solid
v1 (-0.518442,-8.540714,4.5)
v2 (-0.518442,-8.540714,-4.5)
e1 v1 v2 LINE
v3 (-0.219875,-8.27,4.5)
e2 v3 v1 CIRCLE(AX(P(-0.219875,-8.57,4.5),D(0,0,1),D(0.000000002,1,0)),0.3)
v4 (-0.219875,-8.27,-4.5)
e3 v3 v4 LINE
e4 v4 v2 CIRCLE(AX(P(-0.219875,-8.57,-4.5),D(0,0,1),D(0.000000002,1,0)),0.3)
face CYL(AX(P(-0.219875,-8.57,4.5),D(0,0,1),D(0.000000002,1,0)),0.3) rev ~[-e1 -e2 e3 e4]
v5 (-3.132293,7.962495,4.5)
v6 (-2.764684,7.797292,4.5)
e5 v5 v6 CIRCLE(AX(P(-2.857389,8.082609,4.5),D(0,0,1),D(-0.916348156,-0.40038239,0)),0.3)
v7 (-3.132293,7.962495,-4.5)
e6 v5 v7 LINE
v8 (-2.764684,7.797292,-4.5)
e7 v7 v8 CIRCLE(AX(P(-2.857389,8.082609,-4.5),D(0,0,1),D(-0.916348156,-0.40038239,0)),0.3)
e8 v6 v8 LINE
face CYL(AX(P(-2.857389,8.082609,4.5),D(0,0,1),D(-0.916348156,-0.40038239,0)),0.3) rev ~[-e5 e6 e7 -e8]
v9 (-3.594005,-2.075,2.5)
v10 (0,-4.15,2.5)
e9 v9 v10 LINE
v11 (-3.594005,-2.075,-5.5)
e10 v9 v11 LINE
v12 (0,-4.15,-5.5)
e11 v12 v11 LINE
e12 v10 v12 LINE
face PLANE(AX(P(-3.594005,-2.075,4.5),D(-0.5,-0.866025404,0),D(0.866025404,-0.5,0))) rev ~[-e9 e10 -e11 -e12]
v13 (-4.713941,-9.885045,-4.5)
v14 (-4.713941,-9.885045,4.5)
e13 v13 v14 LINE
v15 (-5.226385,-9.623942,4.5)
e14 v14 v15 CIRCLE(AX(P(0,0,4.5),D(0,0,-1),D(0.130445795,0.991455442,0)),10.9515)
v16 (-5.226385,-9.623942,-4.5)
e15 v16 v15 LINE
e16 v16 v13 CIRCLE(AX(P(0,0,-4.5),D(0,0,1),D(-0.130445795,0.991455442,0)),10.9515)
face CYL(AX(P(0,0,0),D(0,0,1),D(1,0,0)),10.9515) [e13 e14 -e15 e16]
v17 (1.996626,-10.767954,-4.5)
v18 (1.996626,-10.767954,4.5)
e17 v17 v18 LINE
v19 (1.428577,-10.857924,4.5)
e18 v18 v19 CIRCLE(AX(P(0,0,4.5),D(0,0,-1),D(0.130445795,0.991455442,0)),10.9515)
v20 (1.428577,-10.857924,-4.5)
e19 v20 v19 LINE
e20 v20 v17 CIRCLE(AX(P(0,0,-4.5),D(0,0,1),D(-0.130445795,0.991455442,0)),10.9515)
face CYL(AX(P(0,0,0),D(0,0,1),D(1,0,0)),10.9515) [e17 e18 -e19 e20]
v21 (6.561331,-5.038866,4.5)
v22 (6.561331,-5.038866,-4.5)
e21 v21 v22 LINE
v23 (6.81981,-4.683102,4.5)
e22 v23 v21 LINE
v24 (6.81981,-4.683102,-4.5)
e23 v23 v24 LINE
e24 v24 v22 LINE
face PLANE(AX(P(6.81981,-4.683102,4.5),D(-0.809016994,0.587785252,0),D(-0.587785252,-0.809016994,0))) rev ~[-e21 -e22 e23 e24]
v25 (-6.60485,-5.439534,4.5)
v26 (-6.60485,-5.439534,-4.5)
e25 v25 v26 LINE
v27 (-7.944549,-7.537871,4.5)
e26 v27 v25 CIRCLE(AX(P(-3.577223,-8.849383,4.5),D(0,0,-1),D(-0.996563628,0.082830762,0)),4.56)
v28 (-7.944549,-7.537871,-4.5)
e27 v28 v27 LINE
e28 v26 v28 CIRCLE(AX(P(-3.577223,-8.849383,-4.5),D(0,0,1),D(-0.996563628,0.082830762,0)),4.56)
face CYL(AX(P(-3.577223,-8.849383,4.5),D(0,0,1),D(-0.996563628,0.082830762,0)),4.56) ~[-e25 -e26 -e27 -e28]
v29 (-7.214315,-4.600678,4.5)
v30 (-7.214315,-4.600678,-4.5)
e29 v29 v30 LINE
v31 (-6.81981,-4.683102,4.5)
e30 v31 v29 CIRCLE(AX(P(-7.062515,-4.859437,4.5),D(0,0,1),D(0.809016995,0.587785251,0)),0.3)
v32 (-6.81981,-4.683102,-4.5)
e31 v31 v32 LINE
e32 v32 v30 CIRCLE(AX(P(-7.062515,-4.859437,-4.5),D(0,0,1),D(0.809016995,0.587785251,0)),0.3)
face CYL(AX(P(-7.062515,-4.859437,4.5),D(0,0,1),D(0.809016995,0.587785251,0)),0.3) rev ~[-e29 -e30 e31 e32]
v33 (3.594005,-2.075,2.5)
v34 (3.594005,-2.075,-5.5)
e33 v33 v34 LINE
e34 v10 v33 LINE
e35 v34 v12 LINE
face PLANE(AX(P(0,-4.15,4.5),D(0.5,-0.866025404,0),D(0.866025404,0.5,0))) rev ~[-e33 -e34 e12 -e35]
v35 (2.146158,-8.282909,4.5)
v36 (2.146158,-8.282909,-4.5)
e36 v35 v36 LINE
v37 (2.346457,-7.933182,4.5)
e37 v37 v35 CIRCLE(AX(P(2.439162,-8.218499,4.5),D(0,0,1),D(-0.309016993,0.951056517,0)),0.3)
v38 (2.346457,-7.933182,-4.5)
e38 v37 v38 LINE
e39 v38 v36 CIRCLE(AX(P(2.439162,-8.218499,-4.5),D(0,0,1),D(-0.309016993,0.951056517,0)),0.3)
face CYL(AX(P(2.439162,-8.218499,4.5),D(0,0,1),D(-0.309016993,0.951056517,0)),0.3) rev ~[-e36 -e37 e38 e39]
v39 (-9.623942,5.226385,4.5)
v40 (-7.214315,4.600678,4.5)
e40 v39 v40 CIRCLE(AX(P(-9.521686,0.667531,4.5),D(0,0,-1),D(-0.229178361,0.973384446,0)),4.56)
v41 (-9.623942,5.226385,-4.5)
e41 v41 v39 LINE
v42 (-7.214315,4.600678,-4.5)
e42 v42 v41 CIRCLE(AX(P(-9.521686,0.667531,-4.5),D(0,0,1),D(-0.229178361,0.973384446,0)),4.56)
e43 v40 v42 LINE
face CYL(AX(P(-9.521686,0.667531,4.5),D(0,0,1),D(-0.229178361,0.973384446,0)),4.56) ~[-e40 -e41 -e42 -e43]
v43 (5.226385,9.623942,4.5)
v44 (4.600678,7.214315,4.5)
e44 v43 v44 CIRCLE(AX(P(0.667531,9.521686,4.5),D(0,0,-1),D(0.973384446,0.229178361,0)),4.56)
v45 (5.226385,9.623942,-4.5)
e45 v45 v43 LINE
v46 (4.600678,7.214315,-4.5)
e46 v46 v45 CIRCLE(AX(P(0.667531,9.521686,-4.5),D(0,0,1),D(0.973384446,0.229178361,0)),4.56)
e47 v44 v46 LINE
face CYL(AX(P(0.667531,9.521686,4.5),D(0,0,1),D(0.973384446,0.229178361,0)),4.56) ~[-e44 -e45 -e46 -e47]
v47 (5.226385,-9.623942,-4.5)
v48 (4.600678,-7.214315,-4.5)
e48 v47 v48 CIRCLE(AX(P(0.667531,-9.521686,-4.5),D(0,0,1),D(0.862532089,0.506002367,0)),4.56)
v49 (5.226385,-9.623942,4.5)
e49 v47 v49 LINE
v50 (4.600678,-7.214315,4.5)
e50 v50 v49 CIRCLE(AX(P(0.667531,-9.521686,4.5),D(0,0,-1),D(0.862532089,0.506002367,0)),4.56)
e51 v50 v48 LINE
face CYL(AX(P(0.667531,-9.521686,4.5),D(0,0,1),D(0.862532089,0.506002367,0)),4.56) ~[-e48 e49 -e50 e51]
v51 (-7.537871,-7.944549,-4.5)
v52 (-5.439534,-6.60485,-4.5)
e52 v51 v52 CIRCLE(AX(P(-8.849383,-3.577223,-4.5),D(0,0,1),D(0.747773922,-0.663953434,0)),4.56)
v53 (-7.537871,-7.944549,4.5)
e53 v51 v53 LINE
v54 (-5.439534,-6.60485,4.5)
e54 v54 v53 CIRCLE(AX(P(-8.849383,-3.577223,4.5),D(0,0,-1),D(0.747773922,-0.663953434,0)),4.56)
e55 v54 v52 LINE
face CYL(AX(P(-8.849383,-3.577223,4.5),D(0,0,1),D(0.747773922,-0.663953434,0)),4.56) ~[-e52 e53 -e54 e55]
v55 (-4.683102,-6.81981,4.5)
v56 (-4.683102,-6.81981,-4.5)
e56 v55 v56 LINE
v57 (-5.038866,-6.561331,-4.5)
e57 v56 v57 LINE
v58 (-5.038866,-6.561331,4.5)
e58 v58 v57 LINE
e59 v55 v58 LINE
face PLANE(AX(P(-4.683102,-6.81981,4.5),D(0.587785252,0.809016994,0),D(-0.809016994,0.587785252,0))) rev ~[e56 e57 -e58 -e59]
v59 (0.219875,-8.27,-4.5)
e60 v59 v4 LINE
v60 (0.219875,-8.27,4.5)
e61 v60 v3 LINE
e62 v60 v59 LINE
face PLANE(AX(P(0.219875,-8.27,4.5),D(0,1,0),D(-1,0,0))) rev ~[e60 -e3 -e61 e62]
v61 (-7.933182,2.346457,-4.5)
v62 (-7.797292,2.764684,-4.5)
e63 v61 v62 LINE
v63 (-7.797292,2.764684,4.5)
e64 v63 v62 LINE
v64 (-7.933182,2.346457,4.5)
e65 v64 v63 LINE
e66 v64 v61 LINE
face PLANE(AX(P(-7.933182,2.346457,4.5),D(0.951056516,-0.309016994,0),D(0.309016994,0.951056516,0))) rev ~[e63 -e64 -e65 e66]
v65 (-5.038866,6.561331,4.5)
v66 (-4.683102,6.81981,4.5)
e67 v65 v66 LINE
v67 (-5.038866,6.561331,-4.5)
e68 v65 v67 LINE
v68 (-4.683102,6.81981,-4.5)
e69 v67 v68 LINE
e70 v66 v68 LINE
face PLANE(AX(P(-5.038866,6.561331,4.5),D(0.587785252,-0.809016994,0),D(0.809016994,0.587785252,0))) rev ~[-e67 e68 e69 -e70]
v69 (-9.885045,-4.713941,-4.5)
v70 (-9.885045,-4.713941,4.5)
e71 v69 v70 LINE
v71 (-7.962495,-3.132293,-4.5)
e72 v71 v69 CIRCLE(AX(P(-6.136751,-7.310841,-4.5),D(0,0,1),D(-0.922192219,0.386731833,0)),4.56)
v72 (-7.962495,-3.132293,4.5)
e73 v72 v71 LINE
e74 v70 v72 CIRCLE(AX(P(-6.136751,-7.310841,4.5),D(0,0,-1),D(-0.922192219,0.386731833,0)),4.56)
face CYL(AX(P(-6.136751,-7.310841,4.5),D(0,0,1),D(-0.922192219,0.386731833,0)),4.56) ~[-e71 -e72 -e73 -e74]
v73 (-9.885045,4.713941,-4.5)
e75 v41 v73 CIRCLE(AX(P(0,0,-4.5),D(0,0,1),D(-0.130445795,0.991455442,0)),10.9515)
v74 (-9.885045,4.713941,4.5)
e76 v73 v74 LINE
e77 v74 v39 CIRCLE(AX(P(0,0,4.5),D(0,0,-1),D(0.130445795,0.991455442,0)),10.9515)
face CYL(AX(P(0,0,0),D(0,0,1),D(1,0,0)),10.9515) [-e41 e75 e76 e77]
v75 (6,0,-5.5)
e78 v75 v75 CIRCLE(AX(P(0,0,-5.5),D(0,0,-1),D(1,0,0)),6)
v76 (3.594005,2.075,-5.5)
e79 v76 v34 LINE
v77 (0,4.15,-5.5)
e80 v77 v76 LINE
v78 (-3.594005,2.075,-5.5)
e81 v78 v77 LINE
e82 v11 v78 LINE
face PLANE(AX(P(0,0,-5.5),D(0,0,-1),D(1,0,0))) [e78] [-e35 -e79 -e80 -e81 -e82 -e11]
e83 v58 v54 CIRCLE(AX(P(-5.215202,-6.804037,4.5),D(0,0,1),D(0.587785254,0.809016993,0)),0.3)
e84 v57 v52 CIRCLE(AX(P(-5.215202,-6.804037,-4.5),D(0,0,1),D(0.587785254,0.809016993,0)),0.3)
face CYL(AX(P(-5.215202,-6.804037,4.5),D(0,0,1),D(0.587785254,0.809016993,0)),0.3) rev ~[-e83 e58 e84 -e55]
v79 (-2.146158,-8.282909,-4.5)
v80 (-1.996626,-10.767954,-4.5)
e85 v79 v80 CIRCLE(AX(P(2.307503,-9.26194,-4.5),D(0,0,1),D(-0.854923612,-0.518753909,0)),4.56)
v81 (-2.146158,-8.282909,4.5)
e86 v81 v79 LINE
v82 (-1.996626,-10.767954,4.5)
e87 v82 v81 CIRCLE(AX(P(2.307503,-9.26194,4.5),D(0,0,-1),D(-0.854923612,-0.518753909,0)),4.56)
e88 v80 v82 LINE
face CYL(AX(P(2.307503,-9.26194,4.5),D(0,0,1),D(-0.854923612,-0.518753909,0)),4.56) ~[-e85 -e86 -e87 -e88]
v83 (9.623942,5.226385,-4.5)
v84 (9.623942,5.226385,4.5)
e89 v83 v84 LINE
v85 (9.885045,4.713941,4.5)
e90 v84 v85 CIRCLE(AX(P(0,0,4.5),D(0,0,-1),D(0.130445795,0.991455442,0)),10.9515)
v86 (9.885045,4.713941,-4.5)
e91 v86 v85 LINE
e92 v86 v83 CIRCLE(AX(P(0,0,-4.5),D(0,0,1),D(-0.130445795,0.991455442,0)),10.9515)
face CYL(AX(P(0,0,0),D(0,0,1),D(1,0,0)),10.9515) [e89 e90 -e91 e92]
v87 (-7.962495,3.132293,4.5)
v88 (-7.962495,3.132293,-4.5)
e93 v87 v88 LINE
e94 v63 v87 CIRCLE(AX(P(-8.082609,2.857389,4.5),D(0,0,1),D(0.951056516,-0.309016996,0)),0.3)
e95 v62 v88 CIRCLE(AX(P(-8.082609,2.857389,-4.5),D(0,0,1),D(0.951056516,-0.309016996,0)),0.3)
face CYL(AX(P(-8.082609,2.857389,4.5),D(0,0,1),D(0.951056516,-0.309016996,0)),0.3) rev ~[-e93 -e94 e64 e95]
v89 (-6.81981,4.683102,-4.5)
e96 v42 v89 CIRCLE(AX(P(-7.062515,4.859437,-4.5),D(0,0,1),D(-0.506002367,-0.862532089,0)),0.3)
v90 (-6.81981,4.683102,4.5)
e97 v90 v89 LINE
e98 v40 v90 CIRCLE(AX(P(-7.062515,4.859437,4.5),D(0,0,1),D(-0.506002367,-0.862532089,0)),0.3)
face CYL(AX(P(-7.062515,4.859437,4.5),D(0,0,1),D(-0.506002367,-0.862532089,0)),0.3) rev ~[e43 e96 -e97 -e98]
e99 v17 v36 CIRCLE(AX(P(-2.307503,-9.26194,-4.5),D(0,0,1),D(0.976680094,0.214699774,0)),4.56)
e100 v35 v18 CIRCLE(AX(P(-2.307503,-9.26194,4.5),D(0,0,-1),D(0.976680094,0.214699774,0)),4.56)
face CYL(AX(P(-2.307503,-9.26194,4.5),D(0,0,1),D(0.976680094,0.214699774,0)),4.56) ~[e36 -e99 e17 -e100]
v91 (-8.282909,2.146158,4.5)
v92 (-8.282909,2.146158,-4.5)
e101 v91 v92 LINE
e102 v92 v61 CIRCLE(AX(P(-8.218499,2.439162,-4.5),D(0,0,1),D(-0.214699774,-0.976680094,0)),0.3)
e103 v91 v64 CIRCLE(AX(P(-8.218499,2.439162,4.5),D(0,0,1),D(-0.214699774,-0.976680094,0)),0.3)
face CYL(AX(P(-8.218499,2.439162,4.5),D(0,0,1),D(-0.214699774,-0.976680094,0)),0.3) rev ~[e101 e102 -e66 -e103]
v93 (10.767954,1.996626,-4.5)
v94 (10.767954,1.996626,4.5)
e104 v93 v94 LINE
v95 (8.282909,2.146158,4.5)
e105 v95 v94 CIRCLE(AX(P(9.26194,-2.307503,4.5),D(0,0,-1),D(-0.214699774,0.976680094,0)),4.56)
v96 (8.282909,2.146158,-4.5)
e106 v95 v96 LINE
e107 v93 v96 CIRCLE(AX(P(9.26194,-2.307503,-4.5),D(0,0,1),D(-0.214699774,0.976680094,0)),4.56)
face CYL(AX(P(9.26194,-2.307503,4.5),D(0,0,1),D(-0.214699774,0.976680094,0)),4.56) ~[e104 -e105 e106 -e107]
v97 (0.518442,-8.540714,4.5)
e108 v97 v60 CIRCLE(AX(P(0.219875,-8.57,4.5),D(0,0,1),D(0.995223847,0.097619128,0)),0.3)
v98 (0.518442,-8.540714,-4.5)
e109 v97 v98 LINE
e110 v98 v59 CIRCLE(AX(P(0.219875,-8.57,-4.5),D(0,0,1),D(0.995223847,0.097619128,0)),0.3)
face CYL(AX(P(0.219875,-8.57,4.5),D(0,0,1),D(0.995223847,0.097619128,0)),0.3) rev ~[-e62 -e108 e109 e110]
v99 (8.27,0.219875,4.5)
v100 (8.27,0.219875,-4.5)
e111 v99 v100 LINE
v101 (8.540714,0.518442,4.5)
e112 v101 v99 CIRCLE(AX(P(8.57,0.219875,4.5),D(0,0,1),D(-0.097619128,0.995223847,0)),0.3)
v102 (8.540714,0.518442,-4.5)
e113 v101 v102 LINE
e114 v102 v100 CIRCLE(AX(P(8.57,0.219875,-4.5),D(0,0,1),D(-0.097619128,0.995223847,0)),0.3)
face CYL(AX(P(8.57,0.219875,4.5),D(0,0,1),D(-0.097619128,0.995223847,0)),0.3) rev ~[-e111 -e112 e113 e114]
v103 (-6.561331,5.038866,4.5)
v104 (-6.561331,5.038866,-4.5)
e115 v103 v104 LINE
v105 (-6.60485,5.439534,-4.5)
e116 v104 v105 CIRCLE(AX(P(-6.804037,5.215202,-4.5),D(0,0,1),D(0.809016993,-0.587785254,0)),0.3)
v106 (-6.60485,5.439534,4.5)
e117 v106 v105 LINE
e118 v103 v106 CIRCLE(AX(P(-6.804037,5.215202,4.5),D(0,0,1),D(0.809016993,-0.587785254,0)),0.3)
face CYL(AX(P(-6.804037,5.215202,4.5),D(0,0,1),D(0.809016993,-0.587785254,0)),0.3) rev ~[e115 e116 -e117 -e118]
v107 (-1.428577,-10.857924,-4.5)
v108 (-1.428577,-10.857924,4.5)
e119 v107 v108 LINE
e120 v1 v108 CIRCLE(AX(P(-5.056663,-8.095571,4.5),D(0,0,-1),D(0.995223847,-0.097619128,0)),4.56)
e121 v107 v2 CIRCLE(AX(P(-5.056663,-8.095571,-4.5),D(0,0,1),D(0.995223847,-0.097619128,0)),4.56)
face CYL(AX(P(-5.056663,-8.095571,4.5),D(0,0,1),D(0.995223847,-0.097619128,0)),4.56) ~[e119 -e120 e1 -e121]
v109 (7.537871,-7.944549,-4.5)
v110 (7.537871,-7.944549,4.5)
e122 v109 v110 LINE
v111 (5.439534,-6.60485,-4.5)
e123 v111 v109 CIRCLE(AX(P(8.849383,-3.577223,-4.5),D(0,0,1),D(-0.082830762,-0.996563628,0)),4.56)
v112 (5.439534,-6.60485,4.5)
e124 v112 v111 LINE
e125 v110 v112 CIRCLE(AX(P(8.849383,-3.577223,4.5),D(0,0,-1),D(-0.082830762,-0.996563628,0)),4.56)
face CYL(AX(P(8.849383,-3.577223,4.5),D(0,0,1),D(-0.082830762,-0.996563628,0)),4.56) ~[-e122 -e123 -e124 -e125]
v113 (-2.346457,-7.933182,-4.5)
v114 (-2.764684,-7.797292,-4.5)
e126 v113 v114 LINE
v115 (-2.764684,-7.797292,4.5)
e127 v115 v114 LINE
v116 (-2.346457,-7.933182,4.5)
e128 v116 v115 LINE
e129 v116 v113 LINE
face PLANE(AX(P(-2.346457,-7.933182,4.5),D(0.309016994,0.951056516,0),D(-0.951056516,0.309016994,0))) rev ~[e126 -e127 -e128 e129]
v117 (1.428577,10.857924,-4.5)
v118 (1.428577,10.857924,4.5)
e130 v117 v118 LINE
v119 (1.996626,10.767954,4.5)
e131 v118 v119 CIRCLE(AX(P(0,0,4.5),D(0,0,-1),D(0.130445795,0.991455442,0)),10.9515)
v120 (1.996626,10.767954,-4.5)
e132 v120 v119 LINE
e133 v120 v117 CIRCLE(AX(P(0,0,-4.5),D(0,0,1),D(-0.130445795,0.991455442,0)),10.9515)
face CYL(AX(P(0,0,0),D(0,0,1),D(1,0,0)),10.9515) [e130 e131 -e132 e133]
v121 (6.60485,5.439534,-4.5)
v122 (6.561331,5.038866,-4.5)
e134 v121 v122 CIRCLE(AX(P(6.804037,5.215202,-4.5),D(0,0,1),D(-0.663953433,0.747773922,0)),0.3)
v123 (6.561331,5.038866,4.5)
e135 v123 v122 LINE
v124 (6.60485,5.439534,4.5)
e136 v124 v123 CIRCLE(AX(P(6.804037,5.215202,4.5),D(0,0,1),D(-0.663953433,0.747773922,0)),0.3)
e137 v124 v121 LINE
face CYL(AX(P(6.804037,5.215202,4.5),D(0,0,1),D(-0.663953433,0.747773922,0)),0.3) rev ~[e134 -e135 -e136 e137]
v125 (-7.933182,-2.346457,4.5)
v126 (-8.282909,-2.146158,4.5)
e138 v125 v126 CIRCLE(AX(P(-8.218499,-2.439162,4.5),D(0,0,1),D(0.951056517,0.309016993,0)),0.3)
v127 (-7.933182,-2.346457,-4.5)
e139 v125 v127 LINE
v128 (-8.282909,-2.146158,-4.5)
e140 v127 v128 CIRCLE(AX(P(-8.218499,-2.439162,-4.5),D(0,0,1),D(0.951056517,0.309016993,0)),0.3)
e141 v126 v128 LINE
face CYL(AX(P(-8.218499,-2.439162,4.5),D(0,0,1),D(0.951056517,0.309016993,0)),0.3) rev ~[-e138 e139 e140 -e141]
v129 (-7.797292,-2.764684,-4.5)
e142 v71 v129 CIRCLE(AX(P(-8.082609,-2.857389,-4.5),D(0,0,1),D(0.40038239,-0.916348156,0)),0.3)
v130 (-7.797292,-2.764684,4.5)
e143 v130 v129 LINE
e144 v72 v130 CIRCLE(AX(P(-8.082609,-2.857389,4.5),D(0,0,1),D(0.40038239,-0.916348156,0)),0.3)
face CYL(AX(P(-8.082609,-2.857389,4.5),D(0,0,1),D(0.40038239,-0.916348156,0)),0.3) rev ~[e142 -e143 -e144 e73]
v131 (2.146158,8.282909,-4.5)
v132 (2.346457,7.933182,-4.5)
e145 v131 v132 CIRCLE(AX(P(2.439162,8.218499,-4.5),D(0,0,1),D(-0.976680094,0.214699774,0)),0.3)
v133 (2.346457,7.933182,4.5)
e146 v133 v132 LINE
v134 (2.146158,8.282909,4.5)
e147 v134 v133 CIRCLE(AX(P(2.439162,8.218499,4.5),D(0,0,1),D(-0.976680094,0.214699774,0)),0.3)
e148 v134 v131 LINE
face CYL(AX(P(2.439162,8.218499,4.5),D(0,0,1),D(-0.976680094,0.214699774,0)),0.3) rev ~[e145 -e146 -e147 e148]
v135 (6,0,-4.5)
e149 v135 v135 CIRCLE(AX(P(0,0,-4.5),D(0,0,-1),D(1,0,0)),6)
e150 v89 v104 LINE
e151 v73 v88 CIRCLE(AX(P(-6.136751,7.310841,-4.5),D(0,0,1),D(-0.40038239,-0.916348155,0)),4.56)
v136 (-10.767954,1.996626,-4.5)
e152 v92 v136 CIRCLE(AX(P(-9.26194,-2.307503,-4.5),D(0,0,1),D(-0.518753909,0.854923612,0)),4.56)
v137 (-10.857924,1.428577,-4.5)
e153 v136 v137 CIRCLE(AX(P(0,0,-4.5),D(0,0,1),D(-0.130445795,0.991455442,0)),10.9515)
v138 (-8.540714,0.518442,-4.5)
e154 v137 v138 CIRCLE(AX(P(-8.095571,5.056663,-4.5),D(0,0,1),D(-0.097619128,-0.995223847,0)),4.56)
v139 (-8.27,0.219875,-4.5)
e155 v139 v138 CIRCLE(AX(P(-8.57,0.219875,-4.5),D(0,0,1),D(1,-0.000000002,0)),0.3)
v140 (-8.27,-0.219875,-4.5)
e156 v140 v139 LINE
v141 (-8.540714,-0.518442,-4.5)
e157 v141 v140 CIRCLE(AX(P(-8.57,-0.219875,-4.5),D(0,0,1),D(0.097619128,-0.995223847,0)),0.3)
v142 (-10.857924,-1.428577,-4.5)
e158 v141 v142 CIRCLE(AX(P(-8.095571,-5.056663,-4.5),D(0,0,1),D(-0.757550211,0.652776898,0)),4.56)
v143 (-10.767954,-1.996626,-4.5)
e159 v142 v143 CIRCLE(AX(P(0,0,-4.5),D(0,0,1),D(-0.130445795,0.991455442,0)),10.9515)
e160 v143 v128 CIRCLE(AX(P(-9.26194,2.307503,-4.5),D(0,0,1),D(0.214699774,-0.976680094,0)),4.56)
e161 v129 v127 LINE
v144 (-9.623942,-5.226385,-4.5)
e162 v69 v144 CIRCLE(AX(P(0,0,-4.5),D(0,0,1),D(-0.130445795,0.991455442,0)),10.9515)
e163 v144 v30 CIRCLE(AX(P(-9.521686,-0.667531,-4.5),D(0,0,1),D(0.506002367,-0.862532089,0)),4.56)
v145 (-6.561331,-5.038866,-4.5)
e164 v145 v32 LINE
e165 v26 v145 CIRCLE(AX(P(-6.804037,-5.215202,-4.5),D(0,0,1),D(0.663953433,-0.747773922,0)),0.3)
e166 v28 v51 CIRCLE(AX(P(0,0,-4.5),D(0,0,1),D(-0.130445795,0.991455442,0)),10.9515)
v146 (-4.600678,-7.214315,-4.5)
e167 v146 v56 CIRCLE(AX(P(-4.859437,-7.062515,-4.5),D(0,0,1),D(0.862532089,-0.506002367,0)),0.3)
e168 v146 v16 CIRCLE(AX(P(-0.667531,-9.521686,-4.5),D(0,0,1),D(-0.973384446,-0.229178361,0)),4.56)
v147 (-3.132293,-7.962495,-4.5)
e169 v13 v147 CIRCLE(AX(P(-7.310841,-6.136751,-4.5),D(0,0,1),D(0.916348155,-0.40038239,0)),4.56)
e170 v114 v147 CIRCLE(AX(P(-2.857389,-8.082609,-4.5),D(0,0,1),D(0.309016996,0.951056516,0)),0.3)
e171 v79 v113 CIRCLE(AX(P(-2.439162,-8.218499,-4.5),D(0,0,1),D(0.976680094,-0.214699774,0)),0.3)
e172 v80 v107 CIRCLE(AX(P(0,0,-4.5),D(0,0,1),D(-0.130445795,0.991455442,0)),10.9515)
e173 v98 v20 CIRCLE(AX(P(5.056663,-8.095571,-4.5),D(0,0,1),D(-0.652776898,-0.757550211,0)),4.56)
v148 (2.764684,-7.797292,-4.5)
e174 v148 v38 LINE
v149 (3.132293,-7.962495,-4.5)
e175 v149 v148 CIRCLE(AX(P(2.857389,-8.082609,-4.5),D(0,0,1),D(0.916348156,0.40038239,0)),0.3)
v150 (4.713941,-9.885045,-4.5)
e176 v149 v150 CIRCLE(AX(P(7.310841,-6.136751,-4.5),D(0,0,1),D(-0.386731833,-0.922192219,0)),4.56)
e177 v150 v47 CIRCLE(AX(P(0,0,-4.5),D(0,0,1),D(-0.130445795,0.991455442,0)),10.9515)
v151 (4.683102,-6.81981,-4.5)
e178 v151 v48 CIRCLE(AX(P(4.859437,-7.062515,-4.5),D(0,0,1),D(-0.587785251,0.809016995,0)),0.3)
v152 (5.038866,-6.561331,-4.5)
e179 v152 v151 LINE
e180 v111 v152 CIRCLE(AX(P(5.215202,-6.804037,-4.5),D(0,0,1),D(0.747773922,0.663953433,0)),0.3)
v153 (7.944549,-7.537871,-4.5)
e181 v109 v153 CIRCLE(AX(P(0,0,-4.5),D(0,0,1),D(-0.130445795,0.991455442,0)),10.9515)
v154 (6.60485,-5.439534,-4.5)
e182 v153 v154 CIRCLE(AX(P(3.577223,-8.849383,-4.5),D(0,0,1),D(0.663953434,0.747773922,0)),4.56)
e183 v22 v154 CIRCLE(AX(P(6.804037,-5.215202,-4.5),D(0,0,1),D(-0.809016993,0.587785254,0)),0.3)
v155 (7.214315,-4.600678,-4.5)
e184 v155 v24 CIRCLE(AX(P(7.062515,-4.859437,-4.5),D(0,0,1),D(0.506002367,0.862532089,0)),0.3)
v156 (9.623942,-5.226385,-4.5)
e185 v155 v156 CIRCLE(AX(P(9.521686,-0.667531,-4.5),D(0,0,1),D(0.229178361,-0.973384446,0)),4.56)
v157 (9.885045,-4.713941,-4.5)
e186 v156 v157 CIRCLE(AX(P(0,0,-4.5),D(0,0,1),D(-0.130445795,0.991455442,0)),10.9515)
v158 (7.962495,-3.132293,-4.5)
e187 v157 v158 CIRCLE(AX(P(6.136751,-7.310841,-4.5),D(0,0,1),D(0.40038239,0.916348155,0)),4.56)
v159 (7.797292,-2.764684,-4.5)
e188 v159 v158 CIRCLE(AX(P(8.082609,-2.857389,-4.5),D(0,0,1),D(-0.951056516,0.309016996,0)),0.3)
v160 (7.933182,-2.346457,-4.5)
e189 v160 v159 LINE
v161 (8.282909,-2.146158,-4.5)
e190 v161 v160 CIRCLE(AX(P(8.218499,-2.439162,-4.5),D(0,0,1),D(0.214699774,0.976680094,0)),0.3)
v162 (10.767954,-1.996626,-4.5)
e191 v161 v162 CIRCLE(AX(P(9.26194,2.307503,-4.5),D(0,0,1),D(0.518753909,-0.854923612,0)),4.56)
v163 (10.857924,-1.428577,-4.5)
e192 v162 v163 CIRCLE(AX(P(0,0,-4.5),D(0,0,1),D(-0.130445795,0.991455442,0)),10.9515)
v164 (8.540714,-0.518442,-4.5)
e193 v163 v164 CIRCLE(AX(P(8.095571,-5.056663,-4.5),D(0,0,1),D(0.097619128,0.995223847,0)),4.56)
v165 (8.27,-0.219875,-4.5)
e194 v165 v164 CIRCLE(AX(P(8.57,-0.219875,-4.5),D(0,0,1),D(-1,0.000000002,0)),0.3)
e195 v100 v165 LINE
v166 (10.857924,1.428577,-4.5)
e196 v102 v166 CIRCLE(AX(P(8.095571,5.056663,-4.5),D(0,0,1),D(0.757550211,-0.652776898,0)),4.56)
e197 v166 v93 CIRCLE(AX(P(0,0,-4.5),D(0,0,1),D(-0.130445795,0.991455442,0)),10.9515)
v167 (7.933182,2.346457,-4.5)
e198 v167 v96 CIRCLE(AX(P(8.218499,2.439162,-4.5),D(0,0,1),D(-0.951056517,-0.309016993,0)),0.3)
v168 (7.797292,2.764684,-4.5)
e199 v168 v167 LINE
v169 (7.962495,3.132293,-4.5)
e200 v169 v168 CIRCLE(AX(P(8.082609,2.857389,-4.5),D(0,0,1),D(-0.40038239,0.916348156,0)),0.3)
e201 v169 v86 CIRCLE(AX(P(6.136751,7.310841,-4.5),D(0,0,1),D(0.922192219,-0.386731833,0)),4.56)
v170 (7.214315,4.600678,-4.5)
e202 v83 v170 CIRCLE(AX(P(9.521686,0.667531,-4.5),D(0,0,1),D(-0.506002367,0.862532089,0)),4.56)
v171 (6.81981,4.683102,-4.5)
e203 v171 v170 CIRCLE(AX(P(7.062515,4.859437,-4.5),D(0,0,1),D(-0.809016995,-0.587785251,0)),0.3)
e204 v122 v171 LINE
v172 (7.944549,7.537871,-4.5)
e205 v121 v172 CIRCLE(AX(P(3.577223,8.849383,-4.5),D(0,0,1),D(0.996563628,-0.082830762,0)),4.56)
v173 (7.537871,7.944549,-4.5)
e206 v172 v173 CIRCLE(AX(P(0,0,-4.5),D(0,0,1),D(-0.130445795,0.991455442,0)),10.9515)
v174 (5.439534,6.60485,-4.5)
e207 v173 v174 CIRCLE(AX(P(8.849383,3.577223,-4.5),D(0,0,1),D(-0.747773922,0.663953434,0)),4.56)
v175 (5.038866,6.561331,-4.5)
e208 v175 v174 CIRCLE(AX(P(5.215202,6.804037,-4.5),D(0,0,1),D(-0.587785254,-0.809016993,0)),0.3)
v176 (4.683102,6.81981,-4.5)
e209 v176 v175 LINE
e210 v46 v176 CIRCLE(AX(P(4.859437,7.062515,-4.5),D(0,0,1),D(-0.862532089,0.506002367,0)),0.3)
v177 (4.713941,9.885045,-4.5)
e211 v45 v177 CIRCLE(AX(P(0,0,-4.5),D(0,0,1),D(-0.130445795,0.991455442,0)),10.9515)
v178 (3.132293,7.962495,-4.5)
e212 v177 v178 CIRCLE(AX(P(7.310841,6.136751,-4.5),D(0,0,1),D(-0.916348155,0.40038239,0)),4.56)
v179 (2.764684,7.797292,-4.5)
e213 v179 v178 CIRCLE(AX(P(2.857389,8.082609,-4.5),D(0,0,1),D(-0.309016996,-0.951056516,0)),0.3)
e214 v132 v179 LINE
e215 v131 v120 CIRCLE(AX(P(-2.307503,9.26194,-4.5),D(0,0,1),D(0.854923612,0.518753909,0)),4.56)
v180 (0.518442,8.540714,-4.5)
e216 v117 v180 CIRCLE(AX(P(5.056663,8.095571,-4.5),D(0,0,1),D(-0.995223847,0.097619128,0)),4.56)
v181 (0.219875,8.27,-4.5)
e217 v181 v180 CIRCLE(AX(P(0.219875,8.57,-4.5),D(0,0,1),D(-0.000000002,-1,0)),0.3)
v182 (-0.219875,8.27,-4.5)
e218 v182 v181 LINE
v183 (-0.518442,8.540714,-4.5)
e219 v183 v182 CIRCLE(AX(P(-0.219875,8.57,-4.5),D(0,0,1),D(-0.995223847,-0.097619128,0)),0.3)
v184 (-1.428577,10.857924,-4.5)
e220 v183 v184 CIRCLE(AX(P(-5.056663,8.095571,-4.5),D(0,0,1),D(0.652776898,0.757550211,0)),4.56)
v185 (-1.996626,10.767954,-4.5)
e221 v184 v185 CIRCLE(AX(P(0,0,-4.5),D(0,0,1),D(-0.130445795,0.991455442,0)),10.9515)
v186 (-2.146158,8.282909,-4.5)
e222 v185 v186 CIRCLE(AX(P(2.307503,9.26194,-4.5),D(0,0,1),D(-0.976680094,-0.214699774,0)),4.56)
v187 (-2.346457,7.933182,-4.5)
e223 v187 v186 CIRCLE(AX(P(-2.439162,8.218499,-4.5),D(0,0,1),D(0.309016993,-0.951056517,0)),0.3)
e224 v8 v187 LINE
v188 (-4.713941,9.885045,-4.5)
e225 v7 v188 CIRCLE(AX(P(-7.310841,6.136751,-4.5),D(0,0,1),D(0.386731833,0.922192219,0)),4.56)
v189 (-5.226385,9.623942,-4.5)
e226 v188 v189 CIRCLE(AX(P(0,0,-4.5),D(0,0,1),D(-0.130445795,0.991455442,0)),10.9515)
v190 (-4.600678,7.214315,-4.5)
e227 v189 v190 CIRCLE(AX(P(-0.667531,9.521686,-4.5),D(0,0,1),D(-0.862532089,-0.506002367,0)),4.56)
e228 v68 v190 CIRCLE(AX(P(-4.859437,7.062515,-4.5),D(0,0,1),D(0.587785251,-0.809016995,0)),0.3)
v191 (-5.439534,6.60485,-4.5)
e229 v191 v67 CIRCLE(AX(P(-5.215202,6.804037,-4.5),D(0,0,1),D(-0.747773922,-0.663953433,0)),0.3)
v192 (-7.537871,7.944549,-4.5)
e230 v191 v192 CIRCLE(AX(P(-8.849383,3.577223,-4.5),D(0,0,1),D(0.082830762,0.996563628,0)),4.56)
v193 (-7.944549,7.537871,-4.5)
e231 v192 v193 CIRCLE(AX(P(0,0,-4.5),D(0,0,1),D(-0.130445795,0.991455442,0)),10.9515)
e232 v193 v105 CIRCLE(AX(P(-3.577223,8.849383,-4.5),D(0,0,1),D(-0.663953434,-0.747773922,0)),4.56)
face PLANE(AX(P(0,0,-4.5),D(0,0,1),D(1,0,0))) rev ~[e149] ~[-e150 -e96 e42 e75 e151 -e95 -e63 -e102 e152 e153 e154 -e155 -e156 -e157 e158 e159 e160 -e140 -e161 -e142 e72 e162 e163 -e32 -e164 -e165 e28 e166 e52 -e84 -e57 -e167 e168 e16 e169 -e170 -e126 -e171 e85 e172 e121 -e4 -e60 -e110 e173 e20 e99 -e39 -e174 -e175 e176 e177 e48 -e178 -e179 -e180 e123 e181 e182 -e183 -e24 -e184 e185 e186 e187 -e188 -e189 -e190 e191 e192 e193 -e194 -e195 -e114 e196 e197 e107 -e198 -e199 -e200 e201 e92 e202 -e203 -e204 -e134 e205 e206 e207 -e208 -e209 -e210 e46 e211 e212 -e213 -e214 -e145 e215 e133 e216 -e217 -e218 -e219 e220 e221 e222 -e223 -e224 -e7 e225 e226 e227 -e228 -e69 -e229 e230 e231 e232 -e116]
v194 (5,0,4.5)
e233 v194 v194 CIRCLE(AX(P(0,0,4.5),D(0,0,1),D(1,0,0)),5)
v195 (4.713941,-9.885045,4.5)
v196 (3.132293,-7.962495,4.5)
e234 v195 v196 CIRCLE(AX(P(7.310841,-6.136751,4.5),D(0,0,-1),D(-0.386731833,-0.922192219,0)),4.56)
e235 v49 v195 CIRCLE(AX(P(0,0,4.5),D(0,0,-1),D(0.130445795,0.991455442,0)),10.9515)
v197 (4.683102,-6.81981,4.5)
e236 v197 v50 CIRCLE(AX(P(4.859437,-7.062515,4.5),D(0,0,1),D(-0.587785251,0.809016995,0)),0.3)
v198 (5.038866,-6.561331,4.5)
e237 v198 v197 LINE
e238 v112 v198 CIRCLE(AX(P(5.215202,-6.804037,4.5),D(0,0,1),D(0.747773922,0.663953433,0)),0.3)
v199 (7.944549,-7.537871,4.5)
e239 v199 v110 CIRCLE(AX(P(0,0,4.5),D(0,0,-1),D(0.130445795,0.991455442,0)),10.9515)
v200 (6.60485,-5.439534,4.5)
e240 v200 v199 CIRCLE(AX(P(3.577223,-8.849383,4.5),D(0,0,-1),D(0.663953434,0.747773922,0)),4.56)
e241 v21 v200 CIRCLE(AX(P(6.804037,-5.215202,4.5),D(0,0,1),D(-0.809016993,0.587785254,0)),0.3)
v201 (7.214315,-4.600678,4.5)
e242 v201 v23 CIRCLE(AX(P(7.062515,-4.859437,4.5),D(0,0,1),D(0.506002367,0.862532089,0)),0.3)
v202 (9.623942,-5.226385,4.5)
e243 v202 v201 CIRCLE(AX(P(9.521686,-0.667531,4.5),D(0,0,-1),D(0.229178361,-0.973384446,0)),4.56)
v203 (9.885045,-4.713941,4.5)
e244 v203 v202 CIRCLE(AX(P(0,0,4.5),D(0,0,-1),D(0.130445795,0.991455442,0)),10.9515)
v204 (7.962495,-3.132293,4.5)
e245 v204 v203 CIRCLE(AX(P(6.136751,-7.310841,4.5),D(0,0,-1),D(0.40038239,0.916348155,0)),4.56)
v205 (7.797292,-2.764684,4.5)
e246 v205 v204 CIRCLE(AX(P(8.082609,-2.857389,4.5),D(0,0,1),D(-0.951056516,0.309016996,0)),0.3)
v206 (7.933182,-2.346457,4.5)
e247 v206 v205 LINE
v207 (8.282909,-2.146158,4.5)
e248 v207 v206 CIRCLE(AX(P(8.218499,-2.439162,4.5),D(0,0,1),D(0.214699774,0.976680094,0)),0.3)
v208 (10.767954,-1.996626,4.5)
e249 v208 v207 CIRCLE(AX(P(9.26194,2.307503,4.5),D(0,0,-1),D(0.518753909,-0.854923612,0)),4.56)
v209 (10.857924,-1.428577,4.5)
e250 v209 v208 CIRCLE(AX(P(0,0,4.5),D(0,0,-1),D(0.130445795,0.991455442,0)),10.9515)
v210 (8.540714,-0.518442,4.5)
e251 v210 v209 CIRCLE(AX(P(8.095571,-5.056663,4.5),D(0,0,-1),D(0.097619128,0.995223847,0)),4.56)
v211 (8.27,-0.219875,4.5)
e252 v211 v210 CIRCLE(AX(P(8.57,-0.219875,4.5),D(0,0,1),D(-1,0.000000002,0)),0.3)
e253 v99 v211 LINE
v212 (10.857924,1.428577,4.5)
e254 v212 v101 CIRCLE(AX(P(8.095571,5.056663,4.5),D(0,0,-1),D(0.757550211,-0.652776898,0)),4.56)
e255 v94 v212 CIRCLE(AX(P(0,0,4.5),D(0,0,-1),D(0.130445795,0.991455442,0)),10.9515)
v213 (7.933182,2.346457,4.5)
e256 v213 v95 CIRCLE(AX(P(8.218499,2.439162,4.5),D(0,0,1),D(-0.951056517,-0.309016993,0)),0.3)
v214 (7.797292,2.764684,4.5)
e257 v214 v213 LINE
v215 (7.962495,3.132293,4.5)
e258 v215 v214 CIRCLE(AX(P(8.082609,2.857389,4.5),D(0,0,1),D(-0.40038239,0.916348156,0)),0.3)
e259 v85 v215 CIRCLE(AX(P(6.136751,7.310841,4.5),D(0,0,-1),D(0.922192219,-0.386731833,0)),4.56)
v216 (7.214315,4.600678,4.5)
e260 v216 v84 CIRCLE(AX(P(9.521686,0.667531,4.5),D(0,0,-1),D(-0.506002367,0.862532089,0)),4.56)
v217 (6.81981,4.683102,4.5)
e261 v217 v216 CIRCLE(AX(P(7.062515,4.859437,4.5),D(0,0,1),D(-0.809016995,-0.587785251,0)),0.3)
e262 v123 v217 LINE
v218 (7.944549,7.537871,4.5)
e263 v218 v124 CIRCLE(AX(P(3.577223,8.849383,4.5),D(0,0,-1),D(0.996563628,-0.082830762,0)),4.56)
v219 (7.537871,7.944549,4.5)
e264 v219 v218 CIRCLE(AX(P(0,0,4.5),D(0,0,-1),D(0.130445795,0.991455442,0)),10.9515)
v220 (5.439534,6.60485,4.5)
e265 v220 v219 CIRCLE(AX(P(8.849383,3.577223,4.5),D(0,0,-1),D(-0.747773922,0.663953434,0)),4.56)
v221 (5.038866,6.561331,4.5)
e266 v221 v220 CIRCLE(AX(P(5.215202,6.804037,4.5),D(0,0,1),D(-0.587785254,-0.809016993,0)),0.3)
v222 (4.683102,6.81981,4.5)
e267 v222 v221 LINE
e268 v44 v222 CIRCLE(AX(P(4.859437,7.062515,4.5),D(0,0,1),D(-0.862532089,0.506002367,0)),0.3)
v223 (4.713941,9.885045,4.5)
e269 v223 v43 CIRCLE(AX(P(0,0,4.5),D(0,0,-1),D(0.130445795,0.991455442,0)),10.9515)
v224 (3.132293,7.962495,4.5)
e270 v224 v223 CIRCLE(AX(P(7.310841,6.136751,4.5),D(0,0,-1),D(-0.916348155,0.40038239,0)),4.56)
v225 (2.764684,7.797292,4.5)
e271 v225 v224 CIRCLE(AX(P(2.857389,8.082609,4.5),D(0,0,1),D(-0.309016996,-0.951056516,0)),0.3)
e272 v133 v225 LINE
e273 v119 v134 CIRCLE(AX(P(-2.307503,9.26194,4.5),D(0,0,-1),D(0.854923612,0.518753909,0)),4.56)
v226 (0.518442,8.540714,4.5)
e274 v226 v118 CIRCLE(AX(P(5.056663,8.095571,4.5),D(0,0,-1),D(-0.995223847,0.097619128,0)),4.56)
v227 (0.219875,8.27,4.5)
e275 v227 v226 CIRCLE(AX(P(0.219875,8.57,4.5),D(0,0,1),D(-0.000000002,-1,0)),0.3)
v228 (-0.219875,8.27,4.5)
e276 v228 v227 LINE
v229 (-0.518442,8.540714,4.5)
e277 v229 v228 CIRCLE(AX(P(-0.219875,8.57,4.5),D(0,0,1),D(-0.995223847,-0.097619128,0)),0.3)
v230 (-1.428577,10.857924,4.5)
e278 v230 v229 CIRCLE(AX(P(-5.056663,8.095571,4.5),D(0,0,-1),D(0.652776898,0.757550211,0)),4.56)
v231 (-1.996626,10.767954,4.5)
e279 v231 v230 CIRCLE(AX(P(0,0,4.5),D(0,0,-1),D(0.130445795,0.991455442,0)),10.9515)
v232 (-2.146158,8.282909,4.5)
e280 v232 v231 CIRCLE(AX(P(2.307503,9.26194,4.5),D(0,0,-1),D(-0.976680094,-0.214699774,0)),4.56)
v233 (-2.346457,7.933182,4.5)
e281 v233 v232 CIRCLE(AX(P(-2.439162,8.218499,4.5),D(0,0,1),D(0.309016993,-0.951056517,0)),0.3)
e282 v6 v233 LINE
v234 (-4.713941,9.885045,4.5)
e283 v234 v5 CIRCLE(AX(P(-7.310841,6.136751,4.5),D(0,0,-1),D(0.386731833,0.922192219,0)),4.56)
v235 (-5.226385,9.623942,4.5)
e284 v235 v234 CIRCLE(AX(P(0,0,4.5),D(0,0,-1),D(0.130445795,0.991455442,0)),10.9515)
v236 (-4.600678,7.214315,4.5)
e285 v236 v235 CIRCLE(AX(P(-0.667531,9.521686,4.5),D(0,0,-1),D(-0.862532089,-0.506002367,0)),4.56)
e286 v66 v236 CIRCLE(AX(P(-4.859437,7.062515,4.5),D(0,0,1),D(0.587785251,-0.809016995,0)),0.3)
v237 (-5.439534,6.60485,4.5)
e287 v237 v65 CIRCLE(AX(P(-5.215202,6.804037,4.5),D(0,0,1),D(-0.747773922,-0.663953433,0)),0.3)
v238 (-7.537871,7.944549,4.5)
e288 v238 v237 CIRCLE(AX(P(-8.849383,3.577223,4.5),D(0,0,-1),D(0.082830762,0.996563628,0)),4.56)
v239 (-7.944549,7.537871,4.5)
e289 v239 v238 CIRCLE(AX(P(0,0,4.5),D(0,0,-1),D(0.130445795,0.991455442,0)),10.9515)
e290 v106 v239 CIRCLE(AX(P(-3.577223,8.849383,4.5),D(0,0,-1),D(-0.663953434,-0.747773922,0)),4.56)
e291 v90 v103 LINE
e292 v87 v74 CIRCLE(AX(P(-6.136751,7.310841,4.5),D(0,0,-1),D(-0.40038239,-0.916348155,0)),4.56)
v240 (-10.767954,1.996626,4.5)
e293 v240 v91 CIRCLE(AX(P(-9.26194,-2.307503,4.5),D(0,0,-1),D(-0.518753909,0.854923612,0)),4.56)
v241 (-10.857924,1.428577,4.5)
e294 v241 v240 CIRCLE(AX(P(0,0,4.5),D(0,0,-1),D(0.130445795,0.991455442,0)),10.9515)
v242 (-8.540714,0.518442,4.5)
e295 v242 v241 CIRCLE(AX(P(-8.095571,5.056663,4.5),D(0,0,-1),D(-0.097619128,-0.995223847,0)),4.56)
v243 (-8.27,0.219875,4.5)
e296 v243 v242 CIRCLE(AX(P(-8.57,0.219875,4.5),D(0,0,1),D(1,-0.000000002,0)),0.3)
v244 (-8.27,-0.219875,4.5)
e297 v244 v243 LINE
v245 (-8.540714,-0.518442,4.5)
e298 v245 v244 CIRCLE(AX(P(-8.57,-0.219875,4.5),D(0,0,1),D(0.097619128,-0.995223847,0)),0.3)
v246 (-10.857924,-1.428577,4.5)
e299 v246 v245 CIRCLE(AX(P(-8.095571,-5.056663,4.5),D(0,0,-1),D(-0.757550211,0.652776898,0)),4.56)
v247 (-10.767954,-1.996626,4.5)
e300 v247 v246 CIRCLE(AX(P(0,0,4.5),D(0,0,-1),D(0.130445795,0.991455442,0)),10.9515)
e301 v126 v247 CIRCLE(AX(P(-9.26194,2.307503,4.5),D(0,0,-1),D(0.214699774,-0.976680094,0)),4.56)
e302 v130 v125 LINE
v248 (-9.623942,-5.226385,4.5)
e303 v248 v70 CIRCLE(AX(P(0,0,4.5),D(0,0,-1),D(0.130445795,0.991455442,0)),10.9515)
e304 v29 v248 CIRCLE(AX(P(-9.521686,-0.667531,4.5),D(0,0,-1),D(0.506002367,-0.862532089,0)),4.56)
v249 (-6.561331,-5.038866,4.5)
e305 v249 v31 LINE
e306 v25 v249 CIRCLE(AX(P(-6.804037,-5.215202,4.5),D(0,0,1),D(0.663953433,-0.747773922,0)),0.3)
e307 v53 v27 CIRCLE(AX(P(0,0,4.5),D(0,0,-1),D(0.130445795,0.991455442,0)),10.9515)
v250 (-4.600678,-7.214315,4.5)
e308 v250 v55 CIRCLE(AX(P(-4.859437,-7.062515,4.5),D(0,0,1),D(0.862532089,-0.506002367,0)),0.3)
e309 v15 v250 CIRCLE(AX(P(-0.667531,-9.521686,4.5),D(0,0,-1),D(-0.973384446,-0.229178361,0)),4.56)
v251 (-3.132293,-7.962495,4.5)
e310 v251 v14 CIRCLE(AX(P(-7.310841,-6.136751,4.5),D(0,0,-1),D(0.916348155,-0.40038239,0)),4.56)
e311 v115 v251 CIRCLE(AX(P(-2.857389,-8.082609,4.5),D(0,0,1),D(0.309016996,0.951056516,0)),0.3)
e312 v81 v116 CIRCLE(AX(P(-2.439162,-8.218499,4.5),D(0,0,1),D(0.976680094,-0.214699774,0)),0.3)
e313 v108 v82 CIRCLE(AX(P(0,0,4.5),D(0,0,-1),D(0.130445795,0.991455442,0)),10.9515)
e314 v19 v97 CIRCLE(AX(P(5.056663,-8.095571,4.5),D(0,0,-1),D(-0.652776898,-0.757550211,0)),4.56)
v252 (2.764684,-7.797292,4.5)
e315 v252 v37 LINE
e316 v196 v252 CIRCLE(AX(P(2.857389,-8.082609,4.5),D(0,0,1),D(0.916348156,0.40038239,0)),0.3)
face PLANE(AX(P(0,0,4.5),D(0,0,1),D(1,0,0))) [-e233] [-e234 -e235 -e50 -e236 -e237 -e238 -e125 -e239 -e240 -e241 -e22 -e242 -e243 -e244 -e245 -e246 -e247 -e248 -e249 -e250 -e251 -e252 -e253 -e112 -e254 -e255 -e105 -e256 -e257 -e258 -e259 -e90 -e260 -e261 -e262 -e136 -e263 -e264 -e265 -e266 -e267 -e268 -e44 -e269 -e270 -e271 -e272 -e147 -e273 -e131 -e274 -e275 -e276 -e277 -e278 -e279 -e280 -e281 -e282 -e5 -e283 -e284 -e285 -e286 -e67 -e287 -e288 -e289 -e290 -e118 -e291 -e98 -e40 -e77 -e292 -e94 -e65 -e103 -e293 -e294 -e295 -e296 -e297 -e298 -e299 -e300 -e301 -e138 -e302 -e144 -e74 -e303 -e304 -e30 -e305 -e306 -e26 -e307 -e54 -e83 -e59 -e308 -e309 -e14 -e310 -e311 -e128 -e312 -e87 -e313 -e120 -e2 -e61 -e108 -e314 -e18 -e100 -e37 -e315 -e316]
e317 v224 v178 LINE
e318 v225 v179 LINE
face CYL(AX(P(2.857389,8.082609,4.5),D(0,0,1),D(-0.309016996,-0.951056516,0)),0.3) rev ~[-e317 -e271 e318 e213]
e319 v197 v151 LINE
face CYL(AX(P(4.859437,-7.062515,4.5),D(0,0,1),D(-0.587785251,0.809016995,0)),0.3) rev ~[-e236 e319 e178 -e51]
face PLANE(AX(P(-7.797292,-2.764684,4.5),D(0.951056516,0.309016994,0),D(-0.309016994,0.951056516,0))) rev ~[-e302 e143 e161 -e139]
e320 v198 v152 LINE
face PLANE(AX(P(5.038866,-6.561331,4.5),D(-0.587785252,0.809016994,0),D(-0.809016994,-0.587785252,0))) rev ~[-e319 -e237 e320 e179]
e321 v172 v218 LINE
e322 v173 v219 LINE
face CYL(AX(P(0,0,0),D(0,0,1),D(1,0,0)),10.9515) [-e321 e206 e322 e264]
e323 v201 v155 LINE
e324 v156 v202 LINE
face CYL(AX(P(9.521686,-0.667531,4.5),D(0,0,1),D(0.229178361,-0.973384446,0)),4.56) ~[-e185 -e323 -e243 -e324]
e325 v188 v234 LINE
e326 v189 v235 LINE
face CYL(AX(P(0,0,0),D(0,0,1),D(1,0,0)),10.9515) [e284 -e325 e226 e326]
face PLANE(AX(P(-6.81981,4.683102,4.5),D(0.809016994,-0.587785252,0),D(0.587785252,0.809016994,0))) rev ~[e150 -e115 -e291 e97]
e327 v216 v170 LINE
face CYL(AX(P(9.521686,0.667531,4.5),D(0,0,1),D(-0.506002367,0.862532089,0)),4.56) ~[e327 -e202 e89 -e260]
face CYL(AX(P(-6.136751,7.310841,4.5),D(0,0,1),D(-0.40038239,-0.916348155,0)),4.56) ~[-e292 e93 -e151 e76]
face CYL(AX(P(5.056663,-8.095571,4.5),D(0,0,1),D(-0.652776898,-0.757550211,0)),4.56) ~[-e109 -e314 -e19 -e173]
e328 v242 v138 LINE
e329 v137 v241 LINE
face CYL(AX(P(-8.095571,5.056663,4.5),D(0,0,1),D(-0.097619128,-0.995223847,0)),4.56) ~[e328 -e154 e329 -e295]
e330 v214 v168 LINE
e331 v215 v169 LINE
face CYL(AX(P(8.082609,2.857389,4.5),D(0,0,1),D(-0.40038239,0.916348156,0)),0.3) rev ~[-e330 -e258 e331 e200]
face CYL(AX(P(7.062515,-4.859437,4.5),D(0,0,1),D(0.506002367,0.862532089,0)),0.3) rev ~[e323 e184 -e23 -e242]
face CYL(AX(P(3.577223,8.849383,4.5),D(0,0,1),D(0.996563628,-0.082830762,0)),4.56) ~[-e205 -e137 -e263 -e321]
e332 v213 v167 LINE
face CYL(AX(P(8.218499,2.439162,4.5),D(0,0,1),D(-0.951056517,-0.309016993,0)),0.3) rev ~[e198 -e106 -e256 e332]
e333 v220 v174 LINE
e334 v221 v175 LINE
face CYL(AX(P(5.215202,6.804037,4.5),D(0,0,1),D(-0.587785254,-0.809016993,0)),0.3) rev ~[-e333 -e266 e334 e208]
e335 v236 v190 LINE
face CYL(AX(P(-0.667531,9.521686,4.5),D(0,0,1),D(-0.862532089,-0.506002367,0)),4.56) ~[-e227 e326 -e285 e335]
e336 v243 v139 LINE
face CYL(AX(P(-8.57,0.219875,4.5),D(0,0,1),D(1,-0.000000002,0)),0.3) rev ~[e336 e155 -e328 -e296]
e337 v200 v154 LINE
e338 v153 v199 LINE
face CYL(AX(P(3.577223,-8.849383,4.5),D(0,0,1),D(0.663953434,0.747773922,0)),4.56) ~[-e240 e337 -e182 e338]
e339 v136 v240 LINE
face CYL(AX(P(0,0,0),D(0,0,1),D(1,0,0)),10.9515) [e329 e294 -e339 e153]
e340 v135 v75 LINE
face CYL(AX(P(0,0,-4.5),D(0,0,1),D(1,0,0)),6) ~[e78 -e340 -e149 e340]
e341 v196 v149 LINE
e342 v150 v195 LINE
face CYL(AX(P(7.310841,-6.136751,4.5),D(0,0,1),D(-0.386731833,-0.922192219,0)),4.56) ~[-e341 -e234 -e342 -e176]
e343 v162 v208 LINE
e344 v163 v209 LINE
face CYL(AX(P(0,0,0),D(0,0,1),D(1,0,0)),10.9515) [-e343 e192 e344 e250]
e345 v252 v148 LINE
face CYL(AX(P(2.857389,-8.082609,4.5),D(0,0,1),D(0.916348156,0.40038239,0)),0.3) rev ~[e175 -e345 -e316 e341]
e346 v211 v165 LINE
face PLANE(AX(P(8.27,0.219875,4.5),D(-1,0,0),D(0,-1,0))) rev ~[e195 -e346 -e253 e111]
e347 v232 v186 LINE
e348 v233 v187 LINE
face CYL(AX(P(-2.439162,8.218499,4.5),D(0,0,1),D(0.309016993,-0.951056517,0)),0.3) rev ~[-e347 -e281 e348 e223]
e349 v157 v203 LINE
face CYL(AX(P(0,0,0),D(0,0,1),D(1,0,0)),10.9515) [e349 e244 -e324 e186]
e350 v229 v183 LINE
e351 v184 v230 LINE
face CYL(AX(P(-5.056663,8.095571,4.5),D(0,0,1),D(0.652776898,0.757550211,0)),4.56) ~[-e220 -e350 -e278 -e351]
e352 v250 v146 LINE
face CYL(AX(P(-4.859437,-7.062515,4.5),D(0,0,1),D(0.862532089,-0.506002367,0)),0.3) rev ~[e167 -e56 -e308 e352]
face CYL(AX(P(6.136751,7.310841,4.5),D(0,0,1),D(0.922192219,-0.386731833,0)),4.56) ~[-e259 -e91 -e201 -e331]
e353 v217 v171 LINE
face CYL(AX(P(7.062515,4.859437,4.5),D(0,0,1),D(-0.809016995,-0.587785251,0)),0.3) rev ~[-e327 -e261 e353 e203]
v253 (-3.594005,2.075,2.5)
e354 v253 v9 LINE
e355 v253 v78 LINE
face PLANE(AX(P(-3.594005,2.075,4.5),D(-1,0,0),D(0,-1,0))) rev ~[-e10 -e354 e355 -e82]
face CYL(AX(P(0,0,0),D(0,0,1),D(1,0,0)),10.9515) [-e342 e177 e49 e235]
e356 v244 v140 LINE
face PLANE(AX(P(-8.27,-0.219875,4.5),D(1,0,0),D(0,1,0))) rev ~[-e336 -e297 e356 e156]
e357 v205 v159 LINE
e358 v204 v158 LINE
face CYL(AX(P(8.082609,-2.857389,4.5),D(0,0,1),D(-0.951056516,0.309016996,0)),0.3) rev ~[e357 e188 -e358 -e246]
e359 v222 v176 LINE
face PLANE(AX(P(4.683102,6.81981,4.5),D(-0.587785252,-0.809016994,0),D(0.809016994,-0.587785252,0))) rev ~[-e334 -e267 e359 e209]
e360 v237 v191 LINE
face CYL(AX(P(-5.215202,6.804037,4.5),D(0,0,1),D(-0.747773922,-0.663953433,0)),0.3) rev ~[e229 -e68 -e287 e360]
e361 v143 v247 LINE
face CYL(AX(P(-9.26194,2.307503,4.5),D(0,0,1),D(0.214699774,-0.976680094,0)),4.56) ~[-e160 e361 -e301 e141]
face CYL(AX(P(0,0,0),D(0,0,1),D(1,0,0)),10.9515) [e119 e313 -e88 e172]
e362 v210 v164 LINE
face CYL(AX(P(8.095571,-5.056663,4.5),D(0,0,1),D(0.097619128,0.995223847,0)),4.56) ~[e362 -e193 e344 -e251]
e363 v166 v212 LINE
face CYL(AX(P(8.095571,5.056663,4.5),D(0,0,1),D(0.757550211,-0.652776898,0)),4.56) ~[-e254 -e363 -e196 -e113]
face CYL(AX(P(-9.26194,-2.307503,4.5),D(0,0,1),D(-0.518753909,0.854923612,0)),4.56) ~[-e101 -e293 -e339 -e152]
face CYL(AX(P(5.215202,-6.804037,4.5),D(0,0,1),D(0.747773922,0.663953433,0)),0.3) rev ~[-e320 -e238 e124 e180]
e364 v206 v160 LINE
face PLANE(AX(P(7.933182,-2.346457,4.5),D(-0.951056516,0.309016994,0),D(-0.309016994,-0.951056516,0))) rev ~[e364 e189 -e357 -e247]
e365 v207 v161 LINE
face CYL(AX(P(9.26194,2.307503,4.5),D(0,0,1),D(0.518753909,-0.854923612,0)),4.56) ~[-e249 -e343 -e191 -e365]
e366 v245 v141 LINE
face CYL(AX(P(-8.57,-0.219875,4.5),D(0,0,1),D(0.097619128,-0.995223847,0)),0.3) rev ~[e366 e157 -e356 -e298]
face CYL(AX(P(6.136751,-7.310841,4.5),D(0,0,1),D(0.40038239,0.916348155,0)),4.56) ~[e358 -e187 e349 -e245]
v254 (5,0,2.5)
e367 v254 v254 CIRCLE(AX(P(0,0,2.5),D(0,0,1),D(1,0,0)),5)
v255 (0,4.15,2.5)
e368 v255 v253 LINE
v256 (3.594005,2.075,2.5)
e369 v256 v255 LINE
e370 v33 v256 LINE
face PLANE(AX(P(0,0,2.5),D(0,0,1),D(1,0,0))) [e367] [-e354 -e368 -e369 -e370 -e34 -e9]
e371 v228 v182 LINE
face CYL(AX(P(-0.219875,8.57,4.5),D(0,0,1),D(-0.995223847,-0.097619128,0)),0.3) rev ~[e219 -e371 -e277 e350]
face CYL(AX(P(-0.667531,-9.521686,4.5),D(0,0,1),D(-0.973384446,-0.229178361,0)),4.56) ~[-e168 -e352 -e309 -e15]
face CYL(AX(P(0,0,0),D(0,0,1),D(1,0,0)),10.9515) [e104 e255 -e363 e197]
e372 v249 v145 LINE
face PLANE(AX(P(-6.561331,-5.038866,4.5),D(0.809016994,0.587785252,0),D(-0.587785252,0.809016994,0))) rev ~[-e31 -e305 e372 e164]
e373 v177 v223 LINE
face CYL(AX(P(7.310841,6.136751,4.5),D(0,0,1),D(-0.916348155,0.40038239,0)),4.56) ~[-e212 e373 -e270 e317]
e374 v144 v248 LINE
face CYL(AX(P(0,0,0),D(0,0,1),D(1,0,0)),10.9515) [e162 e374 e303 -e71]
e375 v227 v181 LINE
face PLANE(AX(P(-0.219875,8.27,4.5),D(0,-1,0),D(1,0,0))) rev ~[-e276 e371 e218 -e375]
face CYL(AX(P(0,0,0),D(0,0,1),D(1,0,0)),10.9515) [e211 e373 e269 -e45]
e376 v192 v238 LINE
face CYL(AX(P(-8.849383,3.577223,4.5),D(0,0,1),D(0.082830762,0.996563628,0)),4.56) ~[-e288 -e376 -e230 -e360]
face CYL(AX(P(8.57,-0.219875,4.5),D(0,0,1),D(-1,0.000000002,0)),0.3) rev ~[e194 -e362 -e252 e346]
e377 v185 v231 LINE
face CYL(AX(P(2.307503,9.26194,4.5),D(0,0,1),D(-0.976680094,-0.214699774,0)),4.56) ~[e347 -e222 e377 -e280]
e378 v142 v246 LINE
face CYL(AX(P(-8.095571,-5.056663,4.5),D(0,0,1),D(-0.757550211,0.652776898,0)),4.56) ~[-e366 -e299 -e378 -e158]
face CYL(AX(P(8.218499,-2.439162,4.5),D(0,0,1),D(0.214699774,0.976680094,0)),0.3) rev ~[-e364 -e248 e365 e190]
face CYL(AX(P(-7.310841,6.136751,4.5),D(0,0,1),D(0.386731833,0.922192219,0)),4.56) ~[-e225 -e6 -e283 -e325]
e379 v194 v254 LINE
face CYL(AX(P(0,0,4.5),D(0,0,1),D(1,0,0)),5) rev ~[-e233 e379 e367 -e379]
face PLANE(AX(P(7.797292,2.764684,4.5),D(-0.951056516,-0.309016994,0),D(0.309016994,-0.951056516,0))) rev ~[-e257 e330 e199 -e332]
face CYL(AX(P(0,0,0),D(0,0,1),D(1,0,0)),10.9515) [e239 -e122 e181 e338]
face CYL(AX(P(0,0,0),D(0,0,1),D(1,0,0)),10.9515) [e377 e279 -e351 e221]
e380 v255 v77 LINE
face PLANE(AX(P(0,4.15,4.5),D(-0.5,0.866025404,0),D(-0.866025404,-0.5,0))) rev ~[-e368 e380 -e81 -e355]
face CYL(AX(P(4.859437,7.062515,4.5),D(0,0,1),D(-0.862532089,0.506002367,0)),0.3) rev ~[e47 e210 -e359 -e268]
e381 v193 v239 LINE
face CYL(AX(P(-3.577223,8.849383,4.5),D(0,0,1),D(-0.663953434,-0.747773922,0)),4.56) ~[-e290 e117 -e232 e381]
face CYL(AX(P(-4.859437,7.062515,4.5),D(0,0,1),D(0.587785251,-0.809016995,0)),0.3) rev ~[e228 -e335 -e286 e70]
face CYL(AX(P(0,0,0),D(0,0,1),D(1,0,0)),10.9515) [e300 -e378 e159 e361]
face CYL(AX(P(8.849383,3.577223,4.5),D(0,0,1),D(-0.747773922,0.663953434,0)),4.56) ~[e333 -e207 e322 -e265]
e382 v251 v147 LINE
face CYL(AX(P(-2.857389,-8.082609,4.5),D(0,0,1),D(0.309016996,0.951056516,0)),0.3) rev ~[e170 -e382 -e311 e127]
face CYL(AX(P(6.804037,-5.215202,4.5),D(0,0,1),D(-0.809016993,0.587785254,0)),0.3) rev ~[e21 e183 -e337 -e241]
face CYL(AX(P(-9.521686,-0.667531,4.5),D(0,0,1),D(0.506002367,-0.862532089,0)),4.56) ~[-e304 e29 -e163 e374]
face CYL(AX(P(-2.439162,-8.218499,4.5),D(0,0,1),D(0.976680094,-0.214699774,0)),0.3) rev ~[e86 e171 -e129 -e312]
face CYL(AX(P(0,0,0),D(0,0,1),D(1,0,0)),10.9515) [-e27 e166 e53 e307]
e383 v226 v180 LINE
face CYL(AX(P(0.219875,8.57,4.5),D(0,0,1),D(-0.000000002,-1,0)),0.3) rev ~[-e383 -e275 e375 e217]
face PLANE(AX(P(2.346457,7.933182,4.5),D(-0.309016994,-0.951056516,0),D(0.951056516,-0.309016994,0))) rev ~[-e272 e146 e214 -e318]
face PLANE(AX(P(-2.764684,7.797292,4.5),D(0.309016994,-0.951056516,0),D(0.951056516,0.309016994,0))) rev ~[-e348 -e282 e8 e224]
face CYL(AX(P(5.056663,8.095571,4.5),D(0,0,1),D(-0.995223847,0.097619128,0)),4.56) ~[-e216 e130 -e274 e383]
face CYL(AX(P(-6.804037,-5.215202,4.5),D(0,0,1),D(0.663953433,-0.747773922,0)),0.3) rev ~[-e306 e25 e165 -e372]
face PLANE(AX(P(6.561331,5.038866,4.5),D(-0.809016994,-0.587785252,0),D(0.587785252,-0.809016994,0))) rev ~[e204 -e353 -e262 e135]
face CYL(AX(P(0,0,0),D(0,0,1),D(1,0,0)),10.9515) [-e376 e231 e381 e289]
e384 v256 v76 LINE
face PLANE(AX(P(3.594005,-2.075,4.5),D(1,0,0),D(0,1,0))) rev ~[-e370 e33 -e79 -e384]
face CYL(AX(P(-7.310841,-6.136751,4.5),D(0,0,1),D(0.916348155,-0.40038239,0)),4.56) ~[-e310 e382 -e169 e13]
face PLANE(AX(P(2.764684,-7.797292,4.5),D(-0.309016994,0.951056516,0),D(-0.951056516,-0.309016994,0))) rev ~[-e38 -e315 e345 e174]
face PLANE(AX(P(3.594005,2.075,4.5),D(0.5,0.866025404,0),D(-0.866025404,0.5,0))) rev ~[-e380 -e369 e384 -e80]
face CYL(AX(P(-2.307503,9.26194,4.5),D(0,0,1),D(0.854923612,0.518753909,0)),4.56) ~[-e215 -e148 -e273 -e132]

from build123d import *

# Parameters (mm, degrees)
SKIZZE1_R                       = 10.9515
AUFSATZ_LINEAR_AUSTRAGEN1_DEPTH = 4.5
SKIZZE4_R                       = 5
SKIZZE4_R_2                     = 2.5
SCHNITT_LINEAR_AUSTRAGEN2_DEPTH = 2
SCHNITT_LINEAR_AUSTRAGEN3_DEPTH = 18.912864218
KREISMUSTER1_COUNT              = 20
SKIZZE8_R                       = 6
AUFSATZ_LINEAR_AUSTRAGEN2_DEPTH = 1
SCHNITT_LINEAR_AUSTRAGEN4_DEPTH = 19.324547451


with BuildPart() as part:
    # Skizze1 → Aufsatz-Linear austragen1 (new, symmetric)
    with BuildSketch(Plane.XY):
        Circle(SKIZZE1_R)
    extrude(amount=AUFSATZ_LINEAR_AUSTRAGEN1_DEPTH, both=True)

    # Skizze4 → Schnitt-Linear austragen2 (cut)
    with BuildSketch(Plane.XY.offset(4.5)):
        Circle(SKIZZE4_R)
        Circle(SKIZZE4_R_2, mode=Mode.SUBTRACT)
    extrude(amount=-SCHNITT_LINEAR_AUSTRAGEN2_DEPTH, mode=Mode.SUBTRACT)

    # Skizze6 → Schnitt-Linear austragen3 (cut, through all)
    with BuildSketch(Plane.XY.offset(4.5)):
        with BuildLine():
            Line((-0.219874756, 8.27), (0.219874756, 8.27))
            ThreePointArc((0.219874756, 8.27), (0.421386888, 8.347754953), (0.518441911, 8.540714262))
            ThreePointArc((0.518441911, 8.540714262), (1.009154991, 10.195876188), (2.08, 11.55))
            ThreePointArc((2.08, 11.55), (0, 11.670581665), (-2.08, 11.55))
            ThreePointArc((-2.08, 11.55), (-1.009154991, 10.195876188), (-0.518441911, 8.540714262))
            ThreePointArc((-0.518441911, 8.540714262), (-0.421386888, 8.347754953), (-0.219874756, 8.27))
        make_face()
    schnitt_linear_austragen3 = extrude(amount=-SCHNITT_LINEAR_AUSTRAGEN3_DEPTH, mode=Mode.SUBTRACT)

    # Kreismuster1: Schnitt-Linear austragen3 ×20 about axis
    kreismuster1_axis = Axis((0, 0, 0), (0, 0, 1))
    for i in range(1, KREISMUSTER1_COUNT):
        add(schnitt_linear_austragen3.rotate(kreismuster1_axis, i * 360 / KREISMUSTER1_COUNT), mode=Mode.SUBTRACT)

    # Skizze8 → Aufsatz-Linear austragen2 (add)
    with BuildSketch(Plane(origin=(0, 0, -4.5), x_dir=(-1, 0, 0), z_dir=(0, 0, -1))):
        with Locations(Location((0, 0, 0), (0, 0, 180))):
            Circle(SKIZZE8_R)
    extrude(amount=AUFSATZ_LINEAR_AUSTRAGEN2_DEPTH)

    # Skizze7 → Schnitt-Linear austragen4 (cut, through all)
    with BuildSketch(Plane.XY.offset(4.5)):
        Polygon((0, 4.15), (-3.594005426, 2.075), (-3.594005426, -2.075), (0, -4.15), (3.594005426, -2.075), (3.594005426, 2.075), align=None)
    extrude(amount=-SCHNITT_LINEAR_AUSTRAGEN4_DEPTH, mode=Mode.SUBTRACT)


solid = part.part
